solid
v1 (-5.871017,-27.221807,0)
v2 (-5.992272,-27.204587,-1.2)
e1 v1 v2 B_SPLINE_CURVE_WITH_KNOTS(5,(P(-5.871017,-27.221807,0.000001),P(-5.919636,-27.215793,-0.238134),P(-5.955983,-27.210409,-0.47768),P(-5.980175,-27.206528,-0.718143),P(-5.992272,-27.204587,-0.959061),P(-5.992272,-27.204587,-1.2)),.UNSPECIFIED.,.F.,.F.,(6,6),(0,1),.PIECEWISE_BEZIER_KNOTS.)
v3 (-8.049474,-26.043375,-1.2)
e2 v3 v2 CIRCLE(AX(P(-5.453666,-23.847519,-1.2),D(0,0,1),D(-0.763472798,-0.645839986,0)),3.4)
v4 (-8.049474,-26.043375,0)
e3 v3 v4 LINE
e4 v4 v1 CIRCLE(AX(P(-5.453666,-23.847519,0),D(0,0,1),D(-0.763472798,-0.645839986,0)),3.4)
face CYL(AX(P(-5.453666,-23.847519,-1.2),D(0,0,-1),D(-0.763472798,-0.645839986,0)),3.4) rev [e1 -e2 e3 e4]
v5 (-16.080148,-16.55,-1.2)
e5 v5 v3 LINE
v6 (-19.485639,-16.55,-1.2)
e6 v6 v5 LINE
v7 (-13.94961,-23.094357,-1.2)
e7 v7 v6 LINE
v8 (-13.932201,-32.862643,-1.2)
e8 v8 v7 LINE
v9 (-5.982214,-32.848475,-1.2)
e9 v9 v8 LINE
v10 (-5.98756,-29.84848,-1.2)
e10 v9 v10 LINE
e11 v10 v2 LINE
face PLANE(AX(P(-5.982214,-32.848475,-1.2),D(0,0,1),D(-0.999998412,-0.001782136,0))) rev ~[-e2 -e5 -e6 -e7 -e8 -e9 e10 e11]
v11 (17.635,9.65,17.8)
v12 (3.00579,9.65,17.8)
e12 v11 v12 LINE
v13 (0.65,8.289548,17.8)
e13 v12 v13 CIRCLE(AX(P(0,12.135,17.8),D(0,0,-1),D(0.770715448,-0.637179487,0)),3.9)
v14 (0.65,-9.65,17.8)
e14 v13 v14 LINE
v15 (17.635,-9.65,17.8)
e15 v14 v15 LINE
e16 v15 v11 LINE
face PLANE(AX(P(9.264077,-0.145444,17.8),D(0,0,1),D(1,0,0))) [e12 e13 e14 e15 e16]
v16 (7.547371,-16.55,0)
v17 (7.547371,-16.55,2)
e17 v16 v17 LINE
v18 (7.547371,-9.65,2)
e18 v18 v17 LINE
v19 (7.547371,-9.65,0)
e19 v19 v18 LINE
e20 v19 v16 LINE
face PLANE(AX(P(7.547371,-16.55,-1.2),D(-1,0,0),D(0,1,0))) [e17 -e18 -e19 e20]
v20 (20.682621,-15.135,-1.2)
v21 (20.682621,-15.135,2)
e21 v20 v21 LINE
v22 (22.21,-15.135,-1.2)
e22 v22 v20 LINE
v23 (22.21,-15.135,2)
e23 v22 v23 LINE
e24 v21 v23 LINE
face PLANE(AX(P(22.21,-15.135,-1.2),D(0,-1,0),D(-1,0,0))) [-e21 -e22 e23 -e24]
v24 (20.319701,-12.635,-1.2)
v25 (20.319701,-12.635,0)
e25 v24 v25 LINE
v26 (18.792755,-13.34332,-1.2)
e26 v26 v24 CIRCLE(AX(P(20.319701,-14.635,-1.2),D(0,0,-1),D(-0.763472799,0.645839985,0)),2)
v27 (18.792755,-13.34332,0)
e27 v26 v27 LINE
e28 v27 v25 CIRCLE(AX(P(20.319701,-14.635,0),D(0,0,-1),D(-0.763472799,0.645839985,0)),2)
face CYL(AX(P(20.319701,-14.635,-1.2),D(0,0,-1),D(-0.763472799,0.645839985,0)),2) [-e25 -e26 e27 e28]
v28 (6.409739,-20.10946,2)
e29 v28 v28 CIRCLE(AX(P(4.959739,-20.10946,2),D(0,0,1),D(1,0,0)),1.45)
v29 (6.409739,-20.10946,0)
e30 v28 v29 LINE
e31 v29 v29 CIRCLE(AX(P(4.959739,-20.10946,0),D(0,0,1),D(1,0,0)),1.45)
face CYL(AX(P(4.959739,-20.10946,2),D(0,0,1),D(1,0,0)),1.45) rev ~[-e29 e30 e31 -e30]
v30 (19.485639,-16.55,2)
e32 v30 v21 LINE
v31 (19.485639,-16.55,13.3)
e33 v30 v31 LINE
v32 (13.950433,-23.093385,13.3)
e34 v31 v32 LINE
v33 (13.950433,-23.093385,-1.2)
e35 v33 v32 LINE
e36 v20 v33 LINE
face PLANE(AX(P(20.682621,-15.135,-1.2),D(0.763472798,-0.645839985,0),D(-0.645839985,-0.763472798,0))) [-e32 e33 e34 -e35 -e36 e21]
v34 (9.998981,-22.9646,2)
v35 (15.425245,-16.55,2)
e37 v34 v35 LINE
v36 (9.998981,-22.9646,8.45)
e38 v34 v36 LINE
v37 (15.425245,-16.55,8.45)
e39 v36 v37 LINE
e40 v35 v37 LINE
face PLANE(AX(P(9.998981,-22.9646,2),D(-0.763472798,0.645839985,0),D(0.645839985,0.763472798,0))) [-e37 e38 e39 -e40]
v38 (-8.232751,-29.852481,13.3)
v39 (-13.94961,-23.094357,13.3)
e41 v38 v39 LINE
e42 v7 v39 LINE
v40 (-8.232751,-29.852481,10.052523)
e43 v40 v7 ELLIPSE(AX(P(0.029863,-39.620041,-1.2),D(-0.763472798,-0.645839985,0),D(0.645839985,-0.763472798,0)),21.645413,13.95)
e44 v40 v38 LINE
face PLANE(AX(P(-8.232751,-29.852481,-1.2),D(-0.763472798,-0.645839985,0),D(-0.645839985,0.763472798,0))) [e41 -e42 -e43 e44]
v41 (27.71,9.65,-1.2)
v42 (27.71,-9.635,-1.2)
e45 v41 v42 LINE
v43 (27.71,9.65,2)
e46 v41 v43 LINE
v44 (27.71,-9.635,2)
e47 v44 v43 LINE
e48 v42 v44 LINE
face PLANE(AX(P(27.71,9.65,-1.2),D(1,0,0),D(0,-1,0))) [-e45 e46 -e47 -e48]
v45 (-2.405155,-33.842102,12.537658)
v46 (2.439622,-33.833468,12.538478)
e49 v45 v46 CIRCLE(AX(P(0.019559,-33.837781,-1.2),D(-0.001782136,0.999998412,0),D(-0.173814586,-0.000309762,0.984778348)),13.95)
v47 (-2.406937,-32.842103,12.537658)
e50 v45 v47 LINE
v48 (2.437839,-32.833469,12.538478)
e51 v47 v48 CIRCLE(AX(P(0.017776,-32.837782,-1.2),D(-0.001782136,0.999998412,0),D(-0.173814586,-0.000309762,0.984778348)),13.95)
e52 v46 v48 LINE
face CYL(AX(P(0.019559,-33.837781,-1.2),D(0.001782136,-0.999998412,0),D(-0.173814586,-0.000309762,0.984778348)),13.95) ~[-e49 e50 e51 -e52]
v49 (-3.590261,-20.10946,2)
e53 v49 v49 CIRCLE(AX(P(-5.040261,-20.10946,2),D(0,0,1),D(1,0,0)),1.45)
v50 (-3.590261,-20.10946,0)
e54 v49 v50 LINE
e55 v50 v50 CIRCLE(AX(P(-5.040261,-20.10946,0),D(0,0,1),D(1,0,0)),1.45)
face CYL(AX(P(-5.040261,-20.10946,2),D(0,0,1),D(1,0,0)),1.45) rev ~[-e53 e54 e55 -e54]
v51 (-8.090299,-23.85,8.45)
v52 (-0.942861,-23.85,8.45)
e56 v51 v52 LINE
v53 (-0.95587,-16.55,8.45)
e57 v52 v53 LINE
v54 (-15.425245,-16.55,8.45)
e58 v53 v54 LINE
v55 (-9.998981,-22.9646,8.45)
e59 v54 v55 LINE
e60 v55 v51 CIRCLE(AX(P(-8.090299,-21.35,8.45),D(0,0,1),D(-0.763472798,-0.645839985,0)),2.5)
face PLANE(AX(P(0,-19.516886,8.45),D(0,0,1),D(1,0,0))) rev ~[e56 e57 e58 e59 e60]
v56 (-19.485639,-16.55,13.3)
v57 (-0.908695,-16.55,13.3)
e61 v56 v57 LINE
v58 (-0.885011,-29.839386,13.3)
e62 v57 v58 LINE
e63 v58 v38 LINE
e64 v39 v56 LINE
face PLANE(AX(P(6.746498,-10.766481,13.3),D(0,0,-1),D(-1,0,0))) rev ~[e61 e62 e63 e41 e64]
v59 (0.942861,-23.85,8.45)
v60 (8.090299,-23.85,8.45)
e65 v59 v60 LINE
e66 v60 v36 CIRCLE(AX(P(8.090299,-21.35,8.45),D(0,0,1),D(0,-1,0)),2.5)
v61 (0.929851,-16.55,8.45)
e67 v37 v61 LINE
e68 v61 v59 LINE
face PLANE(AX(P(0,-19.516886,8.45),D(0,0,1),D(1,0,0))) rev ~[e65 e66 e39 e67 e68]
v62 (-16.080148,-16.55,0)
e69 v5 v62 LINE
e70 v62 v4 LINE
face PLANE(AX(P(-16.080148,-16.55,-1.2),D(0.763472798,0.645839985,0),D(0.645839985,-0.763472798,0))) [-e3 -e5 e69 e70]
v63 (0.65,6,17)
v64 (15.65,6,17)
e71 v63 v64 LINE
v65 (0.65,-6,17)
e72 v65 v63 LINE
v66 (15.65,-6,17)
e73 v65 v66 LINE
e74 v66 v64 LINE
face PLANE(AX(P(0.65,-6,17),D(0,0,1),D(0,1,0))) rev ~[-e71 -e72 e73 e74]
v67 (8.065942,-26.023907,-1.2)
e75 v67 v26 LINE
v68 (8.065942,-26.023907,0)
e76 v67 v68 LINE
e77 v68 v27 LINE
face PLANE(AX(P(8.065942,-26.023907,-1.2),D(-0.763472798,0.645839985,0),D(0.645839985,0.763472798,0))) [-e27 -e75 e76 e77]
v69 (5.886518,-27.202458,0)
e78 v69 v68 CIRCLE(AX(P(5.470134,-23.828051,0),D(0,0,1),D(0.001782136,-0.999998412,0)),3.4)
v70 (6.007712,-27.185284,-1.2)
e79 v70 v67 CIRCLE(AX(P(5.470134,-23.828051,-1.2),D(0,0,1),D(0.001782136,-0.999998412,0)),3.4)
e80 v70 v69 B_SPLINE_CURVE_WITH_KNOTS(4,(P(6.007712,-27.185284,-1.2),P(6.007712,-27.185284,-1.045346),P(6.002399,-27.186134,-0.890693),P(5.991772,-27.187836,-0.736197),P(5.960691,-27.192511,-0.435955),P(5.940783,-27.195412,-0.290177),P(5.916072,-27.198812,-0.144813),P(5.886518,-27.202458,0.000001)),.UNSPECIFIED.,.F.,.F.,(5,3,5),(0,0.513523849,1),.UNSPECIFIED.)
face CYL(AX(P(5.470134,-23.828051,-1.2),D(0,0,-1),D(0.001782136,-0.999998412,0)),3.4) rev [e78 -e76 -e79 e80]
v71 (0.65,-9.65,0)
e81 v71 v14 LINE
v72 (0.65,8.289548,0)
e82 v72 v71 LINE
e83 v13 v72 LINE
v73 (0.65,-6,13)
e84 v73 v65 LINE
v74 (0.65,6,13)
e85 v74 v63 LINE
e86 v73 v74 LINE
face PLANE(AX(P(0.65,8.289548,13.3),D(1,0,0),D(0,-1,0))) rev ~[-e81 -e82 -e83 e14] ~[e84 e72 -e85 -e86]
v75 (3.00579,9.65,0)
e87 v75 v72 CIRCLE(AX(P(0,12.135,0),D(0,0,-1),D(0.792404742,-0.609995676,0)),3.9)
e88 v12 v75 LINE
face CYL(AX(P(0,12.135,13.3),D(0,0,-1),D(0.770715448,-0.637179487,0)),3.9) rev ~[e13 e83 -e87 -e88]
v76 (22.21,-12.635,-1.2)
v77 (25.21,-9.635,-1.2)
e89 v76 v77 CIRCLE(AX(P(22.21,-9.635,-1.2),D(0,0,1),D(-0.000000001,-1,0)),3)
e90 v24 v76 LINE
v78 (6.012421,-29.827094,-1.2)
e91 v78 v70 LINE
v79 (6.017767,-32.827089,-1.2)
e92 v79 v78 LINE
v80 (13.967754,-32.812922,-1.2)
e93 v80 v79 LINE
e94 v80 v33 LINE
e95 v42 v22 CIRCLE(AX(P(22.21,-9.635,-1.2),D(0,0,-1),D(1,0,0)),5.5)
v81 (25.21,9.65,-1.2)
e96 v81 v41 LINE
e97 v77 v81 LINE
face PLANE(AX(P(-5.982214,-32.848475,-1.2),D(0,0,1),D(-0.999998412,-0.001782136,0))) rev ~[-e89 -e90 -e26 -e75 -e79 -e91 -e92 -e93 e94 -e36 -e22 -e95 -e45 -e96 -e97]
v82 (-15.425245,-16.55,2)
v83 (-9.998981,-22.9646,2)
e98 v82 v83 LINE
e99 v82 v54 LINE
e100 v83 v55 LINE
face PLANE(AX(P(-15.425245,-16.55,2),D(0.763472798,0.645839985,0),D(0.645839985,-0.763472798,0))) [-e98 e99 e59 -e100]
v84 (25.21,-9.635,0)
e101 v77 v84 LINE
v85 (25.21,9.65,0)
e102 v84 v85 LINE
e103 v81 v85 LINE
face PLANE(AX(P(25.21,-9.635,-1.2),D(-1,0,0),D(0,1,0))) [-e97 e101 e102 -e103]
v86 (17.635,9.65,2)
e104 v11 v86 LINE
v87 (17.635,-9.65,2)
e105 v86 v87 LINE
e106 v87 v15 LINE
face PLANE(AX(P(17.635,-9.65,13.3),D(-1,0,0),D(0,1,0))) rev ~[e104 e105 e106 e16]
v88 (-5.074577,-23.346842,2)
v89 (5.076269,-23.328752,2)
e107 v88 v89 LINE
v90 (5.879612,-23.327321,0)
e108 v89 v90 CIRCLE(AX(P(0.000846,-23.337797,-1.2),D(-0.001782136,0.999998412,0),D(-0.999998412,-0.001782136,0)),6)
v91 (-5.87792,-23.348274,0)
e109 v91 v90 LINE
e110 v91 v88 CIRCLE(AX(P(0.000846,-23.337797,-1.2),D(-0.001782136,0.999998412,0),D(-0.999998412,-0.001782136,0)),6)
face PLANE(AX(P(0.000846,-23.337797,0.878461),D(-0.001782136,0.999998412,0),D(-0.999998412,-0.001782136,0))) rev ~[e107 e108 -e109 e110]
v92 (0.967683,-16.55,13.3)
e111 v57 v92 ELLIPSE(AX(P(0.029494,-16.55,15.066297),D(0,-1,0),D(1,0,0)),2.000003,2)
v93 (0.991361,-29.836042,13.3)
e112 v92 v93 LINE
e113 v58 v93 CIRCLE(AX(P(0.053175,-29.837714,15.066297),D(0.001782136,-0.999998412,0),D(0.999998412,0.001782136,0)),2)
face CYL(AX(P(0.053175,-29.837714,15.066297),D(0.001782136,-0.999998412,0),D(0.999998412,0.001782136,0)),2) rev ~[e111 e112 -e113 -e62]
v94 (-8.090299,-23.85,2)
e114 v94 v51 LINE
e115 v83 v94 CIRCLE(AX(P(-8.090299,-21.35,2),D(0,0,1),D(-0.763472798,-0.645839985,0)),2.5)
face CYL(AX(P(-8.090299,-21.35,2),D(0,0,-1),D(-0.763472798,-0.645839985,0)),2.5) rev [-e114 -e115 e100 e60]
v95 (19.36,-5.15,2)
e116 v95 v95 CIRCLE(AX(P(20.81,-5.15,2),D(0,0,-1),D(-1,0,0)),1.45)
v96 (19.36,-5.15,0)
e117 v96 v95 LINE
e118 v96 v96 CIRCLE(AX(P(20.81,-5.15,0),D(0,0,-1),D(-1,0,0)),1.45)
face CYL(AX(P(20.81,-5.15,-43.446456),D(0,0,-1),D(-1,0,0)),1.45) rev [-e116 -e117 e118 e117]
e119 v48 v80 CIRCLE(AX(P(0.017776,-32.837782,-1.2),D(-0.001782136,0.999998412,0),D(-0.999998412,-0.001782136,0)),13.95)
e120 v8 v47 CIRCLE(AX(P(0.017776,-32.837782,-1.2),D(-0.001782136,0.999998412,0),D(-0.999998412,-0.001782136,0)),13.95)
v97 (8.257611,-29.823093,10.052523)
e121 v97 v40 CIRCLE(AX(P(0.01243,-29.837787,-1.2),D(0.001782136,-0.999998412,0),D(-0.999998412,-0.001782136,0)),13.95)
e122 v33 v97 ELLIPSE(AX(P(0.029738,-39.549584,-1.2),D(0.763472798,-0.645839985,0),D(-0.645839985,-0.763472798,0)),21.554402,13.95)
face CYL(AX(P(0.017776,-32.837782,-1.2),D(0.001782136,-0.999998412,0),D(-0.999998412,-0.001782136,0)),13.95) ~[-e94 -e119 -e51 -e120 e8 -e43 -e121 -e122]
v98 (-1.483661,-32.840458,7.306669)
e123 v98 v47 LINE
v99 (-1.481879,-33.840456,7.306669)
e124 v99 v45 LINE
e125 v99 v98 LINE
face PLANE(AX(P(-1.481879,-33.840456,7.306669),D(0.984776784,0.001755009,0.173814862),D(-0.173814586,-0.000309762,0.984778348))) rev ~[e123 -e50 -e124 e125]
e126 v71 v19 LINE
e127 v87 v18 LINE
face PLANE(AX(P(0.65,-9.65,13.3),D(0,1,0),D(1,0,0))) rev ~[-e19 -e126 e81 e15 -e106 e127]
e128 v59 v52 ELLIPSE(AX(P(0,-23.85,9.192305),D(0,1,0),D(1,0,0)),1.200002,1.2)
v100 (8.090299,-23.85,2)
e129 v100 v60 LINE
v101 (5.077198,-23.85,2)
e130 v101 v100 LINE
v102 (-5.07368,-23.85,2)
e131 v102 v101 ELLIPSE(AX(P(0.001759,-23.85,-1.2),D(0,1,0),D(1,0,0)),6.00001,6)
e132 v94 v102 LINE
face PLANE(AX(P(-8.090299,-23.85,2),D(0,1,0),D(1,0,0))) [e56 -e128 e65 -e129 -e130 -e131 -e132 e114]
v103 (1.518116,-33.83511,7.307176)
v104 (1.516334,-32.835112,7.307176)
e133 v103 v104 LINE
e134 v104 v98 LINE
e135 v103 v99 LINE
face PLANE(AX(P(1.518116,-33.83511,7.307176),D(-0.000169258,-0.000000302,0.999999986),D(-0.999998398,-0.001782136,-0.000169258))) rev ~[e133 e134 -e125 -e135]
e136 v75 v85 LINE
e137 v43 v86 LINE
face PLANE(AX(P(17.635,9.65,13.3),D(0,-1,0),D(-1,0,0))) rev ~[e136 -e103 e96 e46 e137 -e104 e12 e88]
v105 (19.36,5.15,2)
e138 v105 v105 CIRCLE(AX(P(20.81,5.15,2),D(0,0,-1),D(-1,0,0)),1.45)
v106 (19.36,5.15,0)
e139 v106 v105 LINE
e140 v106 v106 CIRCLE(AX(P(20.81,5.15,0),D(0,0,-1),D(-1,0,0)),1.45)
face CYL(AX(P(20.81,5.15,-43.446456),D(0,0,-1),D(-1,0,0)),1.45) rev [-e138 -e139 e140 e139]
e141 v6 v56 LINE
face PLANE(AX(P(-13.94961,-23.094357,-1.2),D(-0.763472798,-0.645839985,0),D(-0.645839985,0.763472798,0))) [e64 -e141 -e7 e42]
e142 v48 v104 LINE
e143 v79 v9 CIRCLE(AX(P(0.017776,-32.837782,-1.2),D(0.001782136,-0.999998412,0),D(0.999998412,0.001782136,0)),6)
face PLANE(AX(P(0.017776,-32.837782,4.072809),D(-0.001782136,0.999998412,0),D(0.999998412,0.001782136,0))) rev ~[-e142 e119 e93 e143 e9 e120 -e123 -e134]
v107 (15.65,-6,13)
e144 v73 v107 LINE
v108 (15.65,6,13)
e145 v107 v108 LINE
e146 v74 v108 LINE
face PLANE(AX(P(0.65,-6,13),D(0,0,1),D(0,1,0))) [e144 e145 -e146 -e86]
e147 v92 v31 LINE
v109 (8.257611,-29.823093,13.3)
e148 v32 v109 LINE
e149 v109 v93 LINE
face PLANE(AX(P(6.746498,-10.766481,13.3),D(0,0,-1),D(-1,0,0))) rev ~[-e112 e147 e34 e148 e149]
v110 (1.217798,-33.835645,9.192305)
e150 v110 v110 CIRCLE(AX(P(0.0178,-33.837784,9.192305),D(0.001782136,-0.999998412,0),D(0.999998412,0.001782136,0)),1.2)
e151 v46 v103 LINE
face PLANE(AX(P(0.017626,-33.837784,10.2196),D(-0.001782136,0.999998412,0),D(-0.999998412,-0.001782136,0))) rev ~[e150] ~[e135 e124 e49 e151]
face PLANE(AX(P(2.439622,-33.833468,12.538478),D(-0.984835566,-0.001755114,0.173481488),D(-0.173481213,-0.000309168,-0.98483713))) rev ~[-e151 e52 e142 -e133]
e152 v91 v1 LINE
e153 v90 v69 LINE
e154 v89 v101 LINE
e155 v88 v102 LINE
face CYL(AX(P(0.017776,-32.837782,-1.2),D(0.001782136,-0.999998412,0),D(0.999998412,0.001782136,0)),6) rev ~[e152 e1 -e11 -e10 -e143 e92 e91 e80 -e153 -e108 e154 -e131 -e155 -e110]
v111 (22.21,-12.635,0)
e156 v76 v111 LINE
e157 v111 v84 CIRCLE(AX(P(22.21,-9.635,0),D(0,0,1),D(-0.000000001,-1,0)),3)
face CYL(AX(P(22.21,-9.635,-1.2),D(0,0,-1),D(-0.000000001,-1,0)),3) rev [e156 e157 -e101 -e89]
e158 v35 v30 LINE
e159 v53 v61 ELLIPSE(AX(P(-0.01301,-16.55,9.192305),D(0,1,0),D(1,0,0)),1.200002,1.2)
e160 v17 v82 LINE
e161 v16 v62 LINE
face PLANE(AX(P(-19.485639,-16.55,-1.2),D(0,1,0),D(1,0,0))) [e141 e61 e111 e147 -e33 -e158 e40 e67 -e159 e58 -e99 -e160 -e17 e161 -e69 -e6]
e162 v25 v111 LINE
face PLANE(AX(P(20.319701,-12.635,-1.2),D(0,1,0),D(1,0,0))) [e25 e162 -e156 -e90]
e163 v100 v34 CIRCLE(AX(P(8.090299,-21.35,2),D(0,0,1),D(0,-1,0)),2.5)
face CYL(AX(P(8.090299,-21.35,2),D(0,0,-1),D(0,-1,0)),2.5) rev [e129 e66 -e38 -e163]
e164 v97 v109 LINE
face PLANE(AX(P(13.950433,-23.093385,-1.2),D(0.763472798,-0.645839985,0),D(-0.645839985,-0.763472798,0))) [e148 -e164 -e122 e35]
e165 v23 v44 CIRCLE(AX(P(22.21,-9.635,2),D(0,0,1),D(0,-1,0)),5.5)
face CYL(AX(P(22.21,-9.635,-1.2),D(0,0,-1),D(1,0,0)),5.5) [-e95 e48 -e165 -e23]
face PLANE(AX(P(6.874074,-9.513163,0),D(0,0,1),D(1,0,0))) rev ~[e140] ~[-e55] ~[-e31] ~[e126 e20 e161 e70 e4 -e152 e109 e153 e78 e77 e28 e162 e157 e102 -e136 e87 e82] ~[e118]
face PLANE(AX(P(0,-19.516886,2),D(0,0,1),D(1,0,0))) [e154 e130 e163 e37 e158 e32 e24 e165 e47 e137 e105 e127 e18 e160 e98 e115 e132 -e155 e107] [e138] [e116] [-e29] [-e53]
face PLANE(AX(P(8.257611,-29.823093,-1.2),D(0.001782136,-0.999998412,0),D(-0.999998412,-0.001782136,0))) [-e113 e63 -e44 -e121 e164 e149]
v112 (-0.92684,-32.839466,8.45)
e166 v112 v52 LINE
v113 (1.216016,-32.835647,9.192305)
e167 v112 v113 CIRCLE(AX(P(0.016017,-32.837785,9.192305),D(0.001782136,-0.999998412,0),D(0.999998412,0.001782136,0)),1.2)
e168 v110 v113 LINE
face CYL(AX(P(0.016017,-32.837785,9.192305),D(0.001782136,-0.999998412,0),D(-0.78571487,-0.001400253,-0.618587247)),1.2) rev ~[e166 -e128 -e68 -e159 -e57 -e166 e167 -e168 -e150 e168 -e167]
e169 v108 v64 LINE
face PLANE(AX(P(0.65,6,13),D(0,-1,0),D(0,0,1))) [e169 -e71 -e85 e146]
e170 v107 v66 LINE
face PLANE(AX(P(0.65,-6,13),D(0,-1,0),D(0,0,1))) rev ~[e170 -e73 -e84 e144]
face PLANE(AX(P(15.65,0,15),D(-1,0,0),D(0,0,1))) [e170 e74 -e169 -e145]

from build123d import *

# Parameters (mm, degrees)
EXTRUDE_1_DEPTH           = 14.5
EXTRUDE_2_REACH           = 54.409
CUT_EXTRUDE_2_DEPTH       = 6.5
CUT_EXTRUDE_4_DEPTH       = 1.2
CUT_EXTRUDE_5_DEPTH       = 6.45
CUT_EXTRUDE_6_REACH       = 46.446
SKETCH_12_R               = 1.45
CUT_EXTRUDE_START         = -11.3
CUT_EXTRUDE_9_DEPTH       = 11.3
CUT_EXTRUDE_10_DEPTH      = 10
CUT_EXTRUDE_10_DEPTH_BACK = 45.446455555
SKETCH_17_R               = 1.45
EXTRUDE_START             = 1
SKETCH_18_R               = 1.2
EXTRUDE_3_DEPTH           = 1
CUT_EXTRUDE_11_REACH      = 54.409
SKETCH_20_R               = 1.2
EXTRUDE_4_DEPTH           = 4.5
SKETCH_23_W               = 4
SKETCH_23_H               = 12
CUT_EXTRUDE_13_DEPTH      = 15
CUT_EXTRUDE_14_REACH      = 53.391
SKETCH_24_R               = 2


with BuildPart() as part:
    # 草圖2 → 填料-伸長1 (new body)
    with BuildSketch(Plane.XY.offset(-1.2)):
        with BuildLine():
            Line((3.005790246, 9.65), (27.71, 9.65))
            Line((27.71, 9.65), (27.71, -9.635))
            ThreePointArc((27.71, -9.635), (26.099087297, -13.524087297), (22.21, -15.135))
            Line((22.21, -15.135), (20.682621431, -15.135))
            Line((20.682621431, -15.135), (13.950432746, -23.093384504))
            Line((13.950432746, -23.093384504), (8.257610616, -29.823093007))
            Line((8.257610616, -29.823093007), (-8.232750503, -29.852481121))
            Line((-8.232750503, -29.852481121), (-13.949609825, -23.094357311))
            Line((-13.949609825, -23.094357311), (-19.48563893, -16.55))
            Line((-19.48563893, -16.55), (3.005790246, -16.55))
            Line((3.005790246, -16.55), (7.547371488, -16.55))
            Line((7.547371488, -16.55), (7.547371488, -9.65))
            Line((7.547371488, -9.65), (0.65, -9.65))
            Line((0.65, -9.65), (0.65, 8.289548141))
            ThreePointArc((0.65, 8.289548141), (1.950360965, 8.757709354), (3.005790246, 9.65))
        make_face()
    extrude(amount=EXTRUDE_1_DEPTH)

    # 草圖6 → 填料-伸長2 (add, up to next)
    with BuildSketch(Plane(origin=(0.058521361, -32.837709687, 0), x_dir=(-0.9999984119942069, -0.0017821360960036876, 0), z_dir=(0.0017821360960036876, -0.9999984119942069, 0)), mode=Mode.PRIVATE) as extrude_2_sk1:
        with BuildLine():
            Line((6.040744961, 1.2), (13.990744961, 1.2))
            ThreePointArc((13.990744961, 1.2), (0.040744961, -12.75), (-13.909255039, 1.2))
            Line((-13.909255039, 1.2), (-5.959255039, 1.2))
            ThreePointArc((-5.959255039, 1.2), (0.040744961, -4.8), (6.040744961, 1.2))
        make_face()
    extrude_2_tool1 = extrude(extrude_2_sk1.sketch, amount=-EXTRUDE_2_REACH, mode=Mode.PRIVATE) - part.part
    add(extrude_2_tool1.solids().sort_by_distance((0.017776, -32.837782, 5.486422))[0])

    # 草圖8 → 除料-伸長2 (cut)
    with BuildSketch(Plane(origin=(0.053174952, -29.837714451, 0), x_dir=(0.9999984119942069, 0.0017821360960043932, 0), z_dir=(0.0017821360960043932, -0.9999984119942069, 0))):
        with BuildLine():
            Line((5.959255039, -1.2), (-6.040744961, -1.2))
            ThreePointArc((-6.040744961, -1.2), (-0.040744961, 4.8), (5.959255039, -1.2))
        make_face()
    extrude(amount=-CUT_EXTRUDE_2_DEPTH, mode=Mode.SUBTRACT)

    # 草圖10 → 除料-伸長4 (cut)
    with BuildSketch(Plane(origin=(0, 0, -1.2), x_dir=(-1, 0, 0), z_dir=(0, 0, -1))):
        with BuildLine():
            Line((15.425245412, -16.55), (16.080147592, -16.55))
            Line((16.080147592, -16.55), (8.049473708, -26.043374829))
            ThreePointArc((8.049473708, -26.043374829), (6.88166706, -26.933100433), (5.447606932, -27.24751348))
            Line((5.447606932, -27.24751348), (-5.476193678, -27.228045749))
            ThreePointArc((-5.476193678, -27.228045749), (-6.90363194, -26.911082911), (-8.065941929, -26.023907099))
            Line((-8.065941929, -26.023907099), (-18.792755233, -13.343320029))
            ThreePointArc((-18.792755233, -13.343320029), (-19.478083321, -12.820701245), (-20.319700829, -12.635))
            Line((-20.319700829, -12.635), (-22.21, -12.635))
            ThreePointArc((-22.21, -12.635), (-24.331320344, -11.756320344), (-25.21, -9.635))
            Line((-25.21, -9.635), (-25.21, 9.756016868))
            Line((-25.21, 9.756016868), (-3.090378498, 9.756016868))
            ThreePointArc((-3.090378498, 9.756016868), (-2.008790795, 8.792133036), (-0.65, 8.289548141))
            Line((-0.65, 8.289548141), (-0.65, -9.65))
            Line((-0.65, -9.65), (-7.547371488, -9.65))
            Line((-7.547371488, -9.65), (-7.547371488, -16.55))
            Line((-7.547371488, -16.55), (15.425245412, -16.55))
        make_face()
    extrude(amount=-CUT_EXTRUDE_4_DEPTH, mode=Mode.SUBTRACT)

    # 草圖11 → 除料-伸長5 (cut)
    with BuildSketch(Plane(origin=(0, 0, 2), x_dir=(-1, 0, 0), z_dir=(0, 0, -1))):
        with BuildLine():
            Line((15.425245412, -16.55), (9.998981166, -22.964599963))
            ThreePointArc((9.998981166, -22.964599963), (9.142321056, -23.617873443), (8.090299171, -23.85))
            Line((8.090299171, -23.85), (-8.090299171, -23.85))
            ThreePointArc((-8.090299171, -23.85), (-9.142321056, -23.617873443), (-9.998981166, -22.964599963))
            Line((-9.998981166, -22.964599963), (-15.425245412, -16.55))
            Line((-15.425245412, -16.55), (15.425245412, -16.55))
        make_face()
    extrude(amount=-CUT_EXTRUDE_5_DEPTH, mode=Mode.SUBTRACT)

    # 草圖12 → 除料-伸長6 (cut, up to next)
    with BuildSketch(Plane.XY.offset(2), mode=Mode.PRIVATE) as cut_extrude_6_sk1:
        with Locations((-5.040260671, -20.109460334)):
            Circle(SKETCH_12_R)
    cut_extrude_6_tool1 = extrude(cut_extrude_6_sk1.sketch, amount=-CUT_EXTRUDE_6_REACH, mode=Mode.PRIVATE) & part.part
    # 草圖12 → 除料-伸長6 (cut, up to next)
    with BuildSketch(Plane.XY.offset(2), mode=Mode.PRIVATE) as cut_extrude_6_sk2:
        with Locations((4.959739329, -20.109460334)):
            Circle(SKETCH_12_R)
    cut_extrude_6_tool2 = extrude(cut_extrude_6_sk2.sketch, amount=-CUT_EXTRUDE_6_REACH, mode=Mode.PRIVATE) & part.part
    add(cut_extrude_6_tool1.solids().sort_by_distance((-5.040261, -20.10946, 2))[0], mode=Mode.SUBTRACT)
    add(cut_extrude_6_tool2.solids().sort_by_distance((4.959739, -20.10946, 2))[0], mode=Mode.SUBTRACT)

    # 草圖16 → 除料-伸長9 (cut)
    with BuildSketch(Plane.XY.offset(13.3).offset(CUT_EXTRUDE_START)):
        with BuildLine():
            Line((27.71, 9.65), (17.635, 9.65))
            Line((17.635, 9.65), (17.635, -9.65))
            Line((17.635, -9.65), (7.547371488, -9.65))
            Line((7.547371488, -9.65), (7.547371488, -16.55))
            Line((7.547371488, -16.55), (19.48563893, -16.55))
            Line((19.48563893, -16.55), (20.682621431, -15.135))
            Line((20.682621431, -15.135), (22.21, -15.135))
            ThreePointArc((22.21, -15.135), (26.099087297, -13.524087297), (27.71, -9.635))
            Line((27.71, -9.635), (27.71, 9.65))
        make_face()
    extrude(amount=CUT_EXTRUDE_9_DEPTH, mode=Mode.SUBTRACT)

    # 草圖17 → 除料-伸長10 (cut, two sides: drawn at the far end of the back side and taken through both)
    with BuildSketch(Plane.XY.offset(2).offset(-CUT_EXTRUDE_10_DEPTH_BACK)):
        with Locations(Location((20.81, 5.15, 0), (0, 0, 180))):
            Circle(SKETCH_17_R)
        with Locations(Location((20.81, -5.15, 0), (0, 0, 180))):
            Circle(SKETCH_17_R)
    extrude(amount=CUT_EXTRUDE_10_DEPTH + CUT_EXTRUDE_10_DEPTH_BACK, mode=Mode.SUBTRACT)

    # 草圖18 → 填料-伸長3 (add)
    with BuildSketch(Plane(origin=(0.058521361, -32.837709687, 0), x_dir=(0.9999984119942069, 0.001782136096003688, 0), z_dir=(0.001782136096003688, -0.9999984119942069, 0)).offset(EXTRUDE_START)):
        with BuildLine():
            Line((-1.542184808, 7.30666872), (-2.465462288, 12.537657948))
            ThreePointArc((-2.465462288, 12.537657948), (-0.043106116, 12.7499998), (2.379321799, 12.538477968))
            Line((2.379321799, 12.538477968), (1.457815149, 7.307176495))
            Line((1.457815149, 7.307176495), (-1.542184808, 7.30666872))
        make_face()
        with Locations((-0.042503946, 9.192304697)):
            Circle(SKETCH_18_R, mode=Mode.SUBTRACT)
    extrude(amount=-EXTRUDE_3_DEPTH)

    # 草圖20 → 除料-伸長11 (cut, up to next)
    with BuildSketch(Plane(origin=(0.058521361, -32.837709687, 0), x_dir=(0.9999984119942069, 0.001782136096003688, 0), z_dir=(0.001782136096003688, -0.9999984119942069, 0)), mode=Mode.PRIVATE) as cut_extrude_11_sk1:
        with Locations(Location((-0.042503946, 9.192304697, 0), (0, 0, 218.213041012))):
            Circle(SKETCH_20_R)
    cut_extrude_11_tool1 = extrude(cut_extrude_11_sk1.sketch, amount=-CUT_EXTRUDE_11_REACH, mode=Mode.PRIVATE) & part.part
    add(cut_extrude_11_tool1.solids().sort_by_distance((0.016017, -32.837785, 9.192305))[0], mode=Mode.SUBTRACT)

    # 草圖22 → 填料-伸長4 (add)
    with BuildSketch(Plane.XY.offset(13.3)):
        with BuildLine():
            Line((0.65, 8.289548141), (0.65, -9.65))
            Line((0.65, -9.65), (17.635, -9.65))
            Line((17.635, -9.65), (17.635, 9.65))
            Line((17.635, 9.65), (3.005790246, 9.65))
            ThreePointArc((3.005790246, 9.65), (1.950360965, 8.757709354), (0.65, 8.289548141))
        make_face()
    extrude(amount=EXTRUDE_4_DEPTH)

    # 草圖23 → 除料-伸長13 (cut)
    with BuildSketch(Plane.ZY.offset(-0.65)):
        with Locations((15, 0)):
            Rectangle(SKETCH_23_W, SKETCH_23_H)
    extrude(amount=-CUT_EXTRUDE_13_DEPTH, mode=Mode.SUBTRACT)

    # 除料-伸長14: up to this plane
    cut_extrude_14_end = Plane(origin=(3.005790246, -16.55, 13.3), z_dir=(0, -1, 0))
    # 草圖24 → 除料-伸長14 (cut, up to the surface)
    with BuildSketch(Plane(origin=(0.053174952, -29.837714451, 0), x_dir=(0.9999984119942069, 0.0017821360960043932, 0), z_dir=(0.0017821360960043932, -0.9999984119942069, 0)), mode=Mode.PRIVATE) as cut_extrude_14_sk1:
        with Locations((0, 15.066296733)):
            Circle(SKETCH_24_R)
    cut_extrude_14_tool1 = split(extrude(cut_extrude_14_sk1.sketch, amount=-CUT_EXTRUDE_14_REACH, mode=Mode.PRIVATE), bisect_by=cut_extrude_14_end, keep=Keep.BOTH, mode=Mode.PRIVATE)
    add(cut_extrude_14_tool1.solids().sort_by_distance((0.053175, -29.837714, 15.066297))[0], mode=Mode.SUBTRACT)


solid = part.part
